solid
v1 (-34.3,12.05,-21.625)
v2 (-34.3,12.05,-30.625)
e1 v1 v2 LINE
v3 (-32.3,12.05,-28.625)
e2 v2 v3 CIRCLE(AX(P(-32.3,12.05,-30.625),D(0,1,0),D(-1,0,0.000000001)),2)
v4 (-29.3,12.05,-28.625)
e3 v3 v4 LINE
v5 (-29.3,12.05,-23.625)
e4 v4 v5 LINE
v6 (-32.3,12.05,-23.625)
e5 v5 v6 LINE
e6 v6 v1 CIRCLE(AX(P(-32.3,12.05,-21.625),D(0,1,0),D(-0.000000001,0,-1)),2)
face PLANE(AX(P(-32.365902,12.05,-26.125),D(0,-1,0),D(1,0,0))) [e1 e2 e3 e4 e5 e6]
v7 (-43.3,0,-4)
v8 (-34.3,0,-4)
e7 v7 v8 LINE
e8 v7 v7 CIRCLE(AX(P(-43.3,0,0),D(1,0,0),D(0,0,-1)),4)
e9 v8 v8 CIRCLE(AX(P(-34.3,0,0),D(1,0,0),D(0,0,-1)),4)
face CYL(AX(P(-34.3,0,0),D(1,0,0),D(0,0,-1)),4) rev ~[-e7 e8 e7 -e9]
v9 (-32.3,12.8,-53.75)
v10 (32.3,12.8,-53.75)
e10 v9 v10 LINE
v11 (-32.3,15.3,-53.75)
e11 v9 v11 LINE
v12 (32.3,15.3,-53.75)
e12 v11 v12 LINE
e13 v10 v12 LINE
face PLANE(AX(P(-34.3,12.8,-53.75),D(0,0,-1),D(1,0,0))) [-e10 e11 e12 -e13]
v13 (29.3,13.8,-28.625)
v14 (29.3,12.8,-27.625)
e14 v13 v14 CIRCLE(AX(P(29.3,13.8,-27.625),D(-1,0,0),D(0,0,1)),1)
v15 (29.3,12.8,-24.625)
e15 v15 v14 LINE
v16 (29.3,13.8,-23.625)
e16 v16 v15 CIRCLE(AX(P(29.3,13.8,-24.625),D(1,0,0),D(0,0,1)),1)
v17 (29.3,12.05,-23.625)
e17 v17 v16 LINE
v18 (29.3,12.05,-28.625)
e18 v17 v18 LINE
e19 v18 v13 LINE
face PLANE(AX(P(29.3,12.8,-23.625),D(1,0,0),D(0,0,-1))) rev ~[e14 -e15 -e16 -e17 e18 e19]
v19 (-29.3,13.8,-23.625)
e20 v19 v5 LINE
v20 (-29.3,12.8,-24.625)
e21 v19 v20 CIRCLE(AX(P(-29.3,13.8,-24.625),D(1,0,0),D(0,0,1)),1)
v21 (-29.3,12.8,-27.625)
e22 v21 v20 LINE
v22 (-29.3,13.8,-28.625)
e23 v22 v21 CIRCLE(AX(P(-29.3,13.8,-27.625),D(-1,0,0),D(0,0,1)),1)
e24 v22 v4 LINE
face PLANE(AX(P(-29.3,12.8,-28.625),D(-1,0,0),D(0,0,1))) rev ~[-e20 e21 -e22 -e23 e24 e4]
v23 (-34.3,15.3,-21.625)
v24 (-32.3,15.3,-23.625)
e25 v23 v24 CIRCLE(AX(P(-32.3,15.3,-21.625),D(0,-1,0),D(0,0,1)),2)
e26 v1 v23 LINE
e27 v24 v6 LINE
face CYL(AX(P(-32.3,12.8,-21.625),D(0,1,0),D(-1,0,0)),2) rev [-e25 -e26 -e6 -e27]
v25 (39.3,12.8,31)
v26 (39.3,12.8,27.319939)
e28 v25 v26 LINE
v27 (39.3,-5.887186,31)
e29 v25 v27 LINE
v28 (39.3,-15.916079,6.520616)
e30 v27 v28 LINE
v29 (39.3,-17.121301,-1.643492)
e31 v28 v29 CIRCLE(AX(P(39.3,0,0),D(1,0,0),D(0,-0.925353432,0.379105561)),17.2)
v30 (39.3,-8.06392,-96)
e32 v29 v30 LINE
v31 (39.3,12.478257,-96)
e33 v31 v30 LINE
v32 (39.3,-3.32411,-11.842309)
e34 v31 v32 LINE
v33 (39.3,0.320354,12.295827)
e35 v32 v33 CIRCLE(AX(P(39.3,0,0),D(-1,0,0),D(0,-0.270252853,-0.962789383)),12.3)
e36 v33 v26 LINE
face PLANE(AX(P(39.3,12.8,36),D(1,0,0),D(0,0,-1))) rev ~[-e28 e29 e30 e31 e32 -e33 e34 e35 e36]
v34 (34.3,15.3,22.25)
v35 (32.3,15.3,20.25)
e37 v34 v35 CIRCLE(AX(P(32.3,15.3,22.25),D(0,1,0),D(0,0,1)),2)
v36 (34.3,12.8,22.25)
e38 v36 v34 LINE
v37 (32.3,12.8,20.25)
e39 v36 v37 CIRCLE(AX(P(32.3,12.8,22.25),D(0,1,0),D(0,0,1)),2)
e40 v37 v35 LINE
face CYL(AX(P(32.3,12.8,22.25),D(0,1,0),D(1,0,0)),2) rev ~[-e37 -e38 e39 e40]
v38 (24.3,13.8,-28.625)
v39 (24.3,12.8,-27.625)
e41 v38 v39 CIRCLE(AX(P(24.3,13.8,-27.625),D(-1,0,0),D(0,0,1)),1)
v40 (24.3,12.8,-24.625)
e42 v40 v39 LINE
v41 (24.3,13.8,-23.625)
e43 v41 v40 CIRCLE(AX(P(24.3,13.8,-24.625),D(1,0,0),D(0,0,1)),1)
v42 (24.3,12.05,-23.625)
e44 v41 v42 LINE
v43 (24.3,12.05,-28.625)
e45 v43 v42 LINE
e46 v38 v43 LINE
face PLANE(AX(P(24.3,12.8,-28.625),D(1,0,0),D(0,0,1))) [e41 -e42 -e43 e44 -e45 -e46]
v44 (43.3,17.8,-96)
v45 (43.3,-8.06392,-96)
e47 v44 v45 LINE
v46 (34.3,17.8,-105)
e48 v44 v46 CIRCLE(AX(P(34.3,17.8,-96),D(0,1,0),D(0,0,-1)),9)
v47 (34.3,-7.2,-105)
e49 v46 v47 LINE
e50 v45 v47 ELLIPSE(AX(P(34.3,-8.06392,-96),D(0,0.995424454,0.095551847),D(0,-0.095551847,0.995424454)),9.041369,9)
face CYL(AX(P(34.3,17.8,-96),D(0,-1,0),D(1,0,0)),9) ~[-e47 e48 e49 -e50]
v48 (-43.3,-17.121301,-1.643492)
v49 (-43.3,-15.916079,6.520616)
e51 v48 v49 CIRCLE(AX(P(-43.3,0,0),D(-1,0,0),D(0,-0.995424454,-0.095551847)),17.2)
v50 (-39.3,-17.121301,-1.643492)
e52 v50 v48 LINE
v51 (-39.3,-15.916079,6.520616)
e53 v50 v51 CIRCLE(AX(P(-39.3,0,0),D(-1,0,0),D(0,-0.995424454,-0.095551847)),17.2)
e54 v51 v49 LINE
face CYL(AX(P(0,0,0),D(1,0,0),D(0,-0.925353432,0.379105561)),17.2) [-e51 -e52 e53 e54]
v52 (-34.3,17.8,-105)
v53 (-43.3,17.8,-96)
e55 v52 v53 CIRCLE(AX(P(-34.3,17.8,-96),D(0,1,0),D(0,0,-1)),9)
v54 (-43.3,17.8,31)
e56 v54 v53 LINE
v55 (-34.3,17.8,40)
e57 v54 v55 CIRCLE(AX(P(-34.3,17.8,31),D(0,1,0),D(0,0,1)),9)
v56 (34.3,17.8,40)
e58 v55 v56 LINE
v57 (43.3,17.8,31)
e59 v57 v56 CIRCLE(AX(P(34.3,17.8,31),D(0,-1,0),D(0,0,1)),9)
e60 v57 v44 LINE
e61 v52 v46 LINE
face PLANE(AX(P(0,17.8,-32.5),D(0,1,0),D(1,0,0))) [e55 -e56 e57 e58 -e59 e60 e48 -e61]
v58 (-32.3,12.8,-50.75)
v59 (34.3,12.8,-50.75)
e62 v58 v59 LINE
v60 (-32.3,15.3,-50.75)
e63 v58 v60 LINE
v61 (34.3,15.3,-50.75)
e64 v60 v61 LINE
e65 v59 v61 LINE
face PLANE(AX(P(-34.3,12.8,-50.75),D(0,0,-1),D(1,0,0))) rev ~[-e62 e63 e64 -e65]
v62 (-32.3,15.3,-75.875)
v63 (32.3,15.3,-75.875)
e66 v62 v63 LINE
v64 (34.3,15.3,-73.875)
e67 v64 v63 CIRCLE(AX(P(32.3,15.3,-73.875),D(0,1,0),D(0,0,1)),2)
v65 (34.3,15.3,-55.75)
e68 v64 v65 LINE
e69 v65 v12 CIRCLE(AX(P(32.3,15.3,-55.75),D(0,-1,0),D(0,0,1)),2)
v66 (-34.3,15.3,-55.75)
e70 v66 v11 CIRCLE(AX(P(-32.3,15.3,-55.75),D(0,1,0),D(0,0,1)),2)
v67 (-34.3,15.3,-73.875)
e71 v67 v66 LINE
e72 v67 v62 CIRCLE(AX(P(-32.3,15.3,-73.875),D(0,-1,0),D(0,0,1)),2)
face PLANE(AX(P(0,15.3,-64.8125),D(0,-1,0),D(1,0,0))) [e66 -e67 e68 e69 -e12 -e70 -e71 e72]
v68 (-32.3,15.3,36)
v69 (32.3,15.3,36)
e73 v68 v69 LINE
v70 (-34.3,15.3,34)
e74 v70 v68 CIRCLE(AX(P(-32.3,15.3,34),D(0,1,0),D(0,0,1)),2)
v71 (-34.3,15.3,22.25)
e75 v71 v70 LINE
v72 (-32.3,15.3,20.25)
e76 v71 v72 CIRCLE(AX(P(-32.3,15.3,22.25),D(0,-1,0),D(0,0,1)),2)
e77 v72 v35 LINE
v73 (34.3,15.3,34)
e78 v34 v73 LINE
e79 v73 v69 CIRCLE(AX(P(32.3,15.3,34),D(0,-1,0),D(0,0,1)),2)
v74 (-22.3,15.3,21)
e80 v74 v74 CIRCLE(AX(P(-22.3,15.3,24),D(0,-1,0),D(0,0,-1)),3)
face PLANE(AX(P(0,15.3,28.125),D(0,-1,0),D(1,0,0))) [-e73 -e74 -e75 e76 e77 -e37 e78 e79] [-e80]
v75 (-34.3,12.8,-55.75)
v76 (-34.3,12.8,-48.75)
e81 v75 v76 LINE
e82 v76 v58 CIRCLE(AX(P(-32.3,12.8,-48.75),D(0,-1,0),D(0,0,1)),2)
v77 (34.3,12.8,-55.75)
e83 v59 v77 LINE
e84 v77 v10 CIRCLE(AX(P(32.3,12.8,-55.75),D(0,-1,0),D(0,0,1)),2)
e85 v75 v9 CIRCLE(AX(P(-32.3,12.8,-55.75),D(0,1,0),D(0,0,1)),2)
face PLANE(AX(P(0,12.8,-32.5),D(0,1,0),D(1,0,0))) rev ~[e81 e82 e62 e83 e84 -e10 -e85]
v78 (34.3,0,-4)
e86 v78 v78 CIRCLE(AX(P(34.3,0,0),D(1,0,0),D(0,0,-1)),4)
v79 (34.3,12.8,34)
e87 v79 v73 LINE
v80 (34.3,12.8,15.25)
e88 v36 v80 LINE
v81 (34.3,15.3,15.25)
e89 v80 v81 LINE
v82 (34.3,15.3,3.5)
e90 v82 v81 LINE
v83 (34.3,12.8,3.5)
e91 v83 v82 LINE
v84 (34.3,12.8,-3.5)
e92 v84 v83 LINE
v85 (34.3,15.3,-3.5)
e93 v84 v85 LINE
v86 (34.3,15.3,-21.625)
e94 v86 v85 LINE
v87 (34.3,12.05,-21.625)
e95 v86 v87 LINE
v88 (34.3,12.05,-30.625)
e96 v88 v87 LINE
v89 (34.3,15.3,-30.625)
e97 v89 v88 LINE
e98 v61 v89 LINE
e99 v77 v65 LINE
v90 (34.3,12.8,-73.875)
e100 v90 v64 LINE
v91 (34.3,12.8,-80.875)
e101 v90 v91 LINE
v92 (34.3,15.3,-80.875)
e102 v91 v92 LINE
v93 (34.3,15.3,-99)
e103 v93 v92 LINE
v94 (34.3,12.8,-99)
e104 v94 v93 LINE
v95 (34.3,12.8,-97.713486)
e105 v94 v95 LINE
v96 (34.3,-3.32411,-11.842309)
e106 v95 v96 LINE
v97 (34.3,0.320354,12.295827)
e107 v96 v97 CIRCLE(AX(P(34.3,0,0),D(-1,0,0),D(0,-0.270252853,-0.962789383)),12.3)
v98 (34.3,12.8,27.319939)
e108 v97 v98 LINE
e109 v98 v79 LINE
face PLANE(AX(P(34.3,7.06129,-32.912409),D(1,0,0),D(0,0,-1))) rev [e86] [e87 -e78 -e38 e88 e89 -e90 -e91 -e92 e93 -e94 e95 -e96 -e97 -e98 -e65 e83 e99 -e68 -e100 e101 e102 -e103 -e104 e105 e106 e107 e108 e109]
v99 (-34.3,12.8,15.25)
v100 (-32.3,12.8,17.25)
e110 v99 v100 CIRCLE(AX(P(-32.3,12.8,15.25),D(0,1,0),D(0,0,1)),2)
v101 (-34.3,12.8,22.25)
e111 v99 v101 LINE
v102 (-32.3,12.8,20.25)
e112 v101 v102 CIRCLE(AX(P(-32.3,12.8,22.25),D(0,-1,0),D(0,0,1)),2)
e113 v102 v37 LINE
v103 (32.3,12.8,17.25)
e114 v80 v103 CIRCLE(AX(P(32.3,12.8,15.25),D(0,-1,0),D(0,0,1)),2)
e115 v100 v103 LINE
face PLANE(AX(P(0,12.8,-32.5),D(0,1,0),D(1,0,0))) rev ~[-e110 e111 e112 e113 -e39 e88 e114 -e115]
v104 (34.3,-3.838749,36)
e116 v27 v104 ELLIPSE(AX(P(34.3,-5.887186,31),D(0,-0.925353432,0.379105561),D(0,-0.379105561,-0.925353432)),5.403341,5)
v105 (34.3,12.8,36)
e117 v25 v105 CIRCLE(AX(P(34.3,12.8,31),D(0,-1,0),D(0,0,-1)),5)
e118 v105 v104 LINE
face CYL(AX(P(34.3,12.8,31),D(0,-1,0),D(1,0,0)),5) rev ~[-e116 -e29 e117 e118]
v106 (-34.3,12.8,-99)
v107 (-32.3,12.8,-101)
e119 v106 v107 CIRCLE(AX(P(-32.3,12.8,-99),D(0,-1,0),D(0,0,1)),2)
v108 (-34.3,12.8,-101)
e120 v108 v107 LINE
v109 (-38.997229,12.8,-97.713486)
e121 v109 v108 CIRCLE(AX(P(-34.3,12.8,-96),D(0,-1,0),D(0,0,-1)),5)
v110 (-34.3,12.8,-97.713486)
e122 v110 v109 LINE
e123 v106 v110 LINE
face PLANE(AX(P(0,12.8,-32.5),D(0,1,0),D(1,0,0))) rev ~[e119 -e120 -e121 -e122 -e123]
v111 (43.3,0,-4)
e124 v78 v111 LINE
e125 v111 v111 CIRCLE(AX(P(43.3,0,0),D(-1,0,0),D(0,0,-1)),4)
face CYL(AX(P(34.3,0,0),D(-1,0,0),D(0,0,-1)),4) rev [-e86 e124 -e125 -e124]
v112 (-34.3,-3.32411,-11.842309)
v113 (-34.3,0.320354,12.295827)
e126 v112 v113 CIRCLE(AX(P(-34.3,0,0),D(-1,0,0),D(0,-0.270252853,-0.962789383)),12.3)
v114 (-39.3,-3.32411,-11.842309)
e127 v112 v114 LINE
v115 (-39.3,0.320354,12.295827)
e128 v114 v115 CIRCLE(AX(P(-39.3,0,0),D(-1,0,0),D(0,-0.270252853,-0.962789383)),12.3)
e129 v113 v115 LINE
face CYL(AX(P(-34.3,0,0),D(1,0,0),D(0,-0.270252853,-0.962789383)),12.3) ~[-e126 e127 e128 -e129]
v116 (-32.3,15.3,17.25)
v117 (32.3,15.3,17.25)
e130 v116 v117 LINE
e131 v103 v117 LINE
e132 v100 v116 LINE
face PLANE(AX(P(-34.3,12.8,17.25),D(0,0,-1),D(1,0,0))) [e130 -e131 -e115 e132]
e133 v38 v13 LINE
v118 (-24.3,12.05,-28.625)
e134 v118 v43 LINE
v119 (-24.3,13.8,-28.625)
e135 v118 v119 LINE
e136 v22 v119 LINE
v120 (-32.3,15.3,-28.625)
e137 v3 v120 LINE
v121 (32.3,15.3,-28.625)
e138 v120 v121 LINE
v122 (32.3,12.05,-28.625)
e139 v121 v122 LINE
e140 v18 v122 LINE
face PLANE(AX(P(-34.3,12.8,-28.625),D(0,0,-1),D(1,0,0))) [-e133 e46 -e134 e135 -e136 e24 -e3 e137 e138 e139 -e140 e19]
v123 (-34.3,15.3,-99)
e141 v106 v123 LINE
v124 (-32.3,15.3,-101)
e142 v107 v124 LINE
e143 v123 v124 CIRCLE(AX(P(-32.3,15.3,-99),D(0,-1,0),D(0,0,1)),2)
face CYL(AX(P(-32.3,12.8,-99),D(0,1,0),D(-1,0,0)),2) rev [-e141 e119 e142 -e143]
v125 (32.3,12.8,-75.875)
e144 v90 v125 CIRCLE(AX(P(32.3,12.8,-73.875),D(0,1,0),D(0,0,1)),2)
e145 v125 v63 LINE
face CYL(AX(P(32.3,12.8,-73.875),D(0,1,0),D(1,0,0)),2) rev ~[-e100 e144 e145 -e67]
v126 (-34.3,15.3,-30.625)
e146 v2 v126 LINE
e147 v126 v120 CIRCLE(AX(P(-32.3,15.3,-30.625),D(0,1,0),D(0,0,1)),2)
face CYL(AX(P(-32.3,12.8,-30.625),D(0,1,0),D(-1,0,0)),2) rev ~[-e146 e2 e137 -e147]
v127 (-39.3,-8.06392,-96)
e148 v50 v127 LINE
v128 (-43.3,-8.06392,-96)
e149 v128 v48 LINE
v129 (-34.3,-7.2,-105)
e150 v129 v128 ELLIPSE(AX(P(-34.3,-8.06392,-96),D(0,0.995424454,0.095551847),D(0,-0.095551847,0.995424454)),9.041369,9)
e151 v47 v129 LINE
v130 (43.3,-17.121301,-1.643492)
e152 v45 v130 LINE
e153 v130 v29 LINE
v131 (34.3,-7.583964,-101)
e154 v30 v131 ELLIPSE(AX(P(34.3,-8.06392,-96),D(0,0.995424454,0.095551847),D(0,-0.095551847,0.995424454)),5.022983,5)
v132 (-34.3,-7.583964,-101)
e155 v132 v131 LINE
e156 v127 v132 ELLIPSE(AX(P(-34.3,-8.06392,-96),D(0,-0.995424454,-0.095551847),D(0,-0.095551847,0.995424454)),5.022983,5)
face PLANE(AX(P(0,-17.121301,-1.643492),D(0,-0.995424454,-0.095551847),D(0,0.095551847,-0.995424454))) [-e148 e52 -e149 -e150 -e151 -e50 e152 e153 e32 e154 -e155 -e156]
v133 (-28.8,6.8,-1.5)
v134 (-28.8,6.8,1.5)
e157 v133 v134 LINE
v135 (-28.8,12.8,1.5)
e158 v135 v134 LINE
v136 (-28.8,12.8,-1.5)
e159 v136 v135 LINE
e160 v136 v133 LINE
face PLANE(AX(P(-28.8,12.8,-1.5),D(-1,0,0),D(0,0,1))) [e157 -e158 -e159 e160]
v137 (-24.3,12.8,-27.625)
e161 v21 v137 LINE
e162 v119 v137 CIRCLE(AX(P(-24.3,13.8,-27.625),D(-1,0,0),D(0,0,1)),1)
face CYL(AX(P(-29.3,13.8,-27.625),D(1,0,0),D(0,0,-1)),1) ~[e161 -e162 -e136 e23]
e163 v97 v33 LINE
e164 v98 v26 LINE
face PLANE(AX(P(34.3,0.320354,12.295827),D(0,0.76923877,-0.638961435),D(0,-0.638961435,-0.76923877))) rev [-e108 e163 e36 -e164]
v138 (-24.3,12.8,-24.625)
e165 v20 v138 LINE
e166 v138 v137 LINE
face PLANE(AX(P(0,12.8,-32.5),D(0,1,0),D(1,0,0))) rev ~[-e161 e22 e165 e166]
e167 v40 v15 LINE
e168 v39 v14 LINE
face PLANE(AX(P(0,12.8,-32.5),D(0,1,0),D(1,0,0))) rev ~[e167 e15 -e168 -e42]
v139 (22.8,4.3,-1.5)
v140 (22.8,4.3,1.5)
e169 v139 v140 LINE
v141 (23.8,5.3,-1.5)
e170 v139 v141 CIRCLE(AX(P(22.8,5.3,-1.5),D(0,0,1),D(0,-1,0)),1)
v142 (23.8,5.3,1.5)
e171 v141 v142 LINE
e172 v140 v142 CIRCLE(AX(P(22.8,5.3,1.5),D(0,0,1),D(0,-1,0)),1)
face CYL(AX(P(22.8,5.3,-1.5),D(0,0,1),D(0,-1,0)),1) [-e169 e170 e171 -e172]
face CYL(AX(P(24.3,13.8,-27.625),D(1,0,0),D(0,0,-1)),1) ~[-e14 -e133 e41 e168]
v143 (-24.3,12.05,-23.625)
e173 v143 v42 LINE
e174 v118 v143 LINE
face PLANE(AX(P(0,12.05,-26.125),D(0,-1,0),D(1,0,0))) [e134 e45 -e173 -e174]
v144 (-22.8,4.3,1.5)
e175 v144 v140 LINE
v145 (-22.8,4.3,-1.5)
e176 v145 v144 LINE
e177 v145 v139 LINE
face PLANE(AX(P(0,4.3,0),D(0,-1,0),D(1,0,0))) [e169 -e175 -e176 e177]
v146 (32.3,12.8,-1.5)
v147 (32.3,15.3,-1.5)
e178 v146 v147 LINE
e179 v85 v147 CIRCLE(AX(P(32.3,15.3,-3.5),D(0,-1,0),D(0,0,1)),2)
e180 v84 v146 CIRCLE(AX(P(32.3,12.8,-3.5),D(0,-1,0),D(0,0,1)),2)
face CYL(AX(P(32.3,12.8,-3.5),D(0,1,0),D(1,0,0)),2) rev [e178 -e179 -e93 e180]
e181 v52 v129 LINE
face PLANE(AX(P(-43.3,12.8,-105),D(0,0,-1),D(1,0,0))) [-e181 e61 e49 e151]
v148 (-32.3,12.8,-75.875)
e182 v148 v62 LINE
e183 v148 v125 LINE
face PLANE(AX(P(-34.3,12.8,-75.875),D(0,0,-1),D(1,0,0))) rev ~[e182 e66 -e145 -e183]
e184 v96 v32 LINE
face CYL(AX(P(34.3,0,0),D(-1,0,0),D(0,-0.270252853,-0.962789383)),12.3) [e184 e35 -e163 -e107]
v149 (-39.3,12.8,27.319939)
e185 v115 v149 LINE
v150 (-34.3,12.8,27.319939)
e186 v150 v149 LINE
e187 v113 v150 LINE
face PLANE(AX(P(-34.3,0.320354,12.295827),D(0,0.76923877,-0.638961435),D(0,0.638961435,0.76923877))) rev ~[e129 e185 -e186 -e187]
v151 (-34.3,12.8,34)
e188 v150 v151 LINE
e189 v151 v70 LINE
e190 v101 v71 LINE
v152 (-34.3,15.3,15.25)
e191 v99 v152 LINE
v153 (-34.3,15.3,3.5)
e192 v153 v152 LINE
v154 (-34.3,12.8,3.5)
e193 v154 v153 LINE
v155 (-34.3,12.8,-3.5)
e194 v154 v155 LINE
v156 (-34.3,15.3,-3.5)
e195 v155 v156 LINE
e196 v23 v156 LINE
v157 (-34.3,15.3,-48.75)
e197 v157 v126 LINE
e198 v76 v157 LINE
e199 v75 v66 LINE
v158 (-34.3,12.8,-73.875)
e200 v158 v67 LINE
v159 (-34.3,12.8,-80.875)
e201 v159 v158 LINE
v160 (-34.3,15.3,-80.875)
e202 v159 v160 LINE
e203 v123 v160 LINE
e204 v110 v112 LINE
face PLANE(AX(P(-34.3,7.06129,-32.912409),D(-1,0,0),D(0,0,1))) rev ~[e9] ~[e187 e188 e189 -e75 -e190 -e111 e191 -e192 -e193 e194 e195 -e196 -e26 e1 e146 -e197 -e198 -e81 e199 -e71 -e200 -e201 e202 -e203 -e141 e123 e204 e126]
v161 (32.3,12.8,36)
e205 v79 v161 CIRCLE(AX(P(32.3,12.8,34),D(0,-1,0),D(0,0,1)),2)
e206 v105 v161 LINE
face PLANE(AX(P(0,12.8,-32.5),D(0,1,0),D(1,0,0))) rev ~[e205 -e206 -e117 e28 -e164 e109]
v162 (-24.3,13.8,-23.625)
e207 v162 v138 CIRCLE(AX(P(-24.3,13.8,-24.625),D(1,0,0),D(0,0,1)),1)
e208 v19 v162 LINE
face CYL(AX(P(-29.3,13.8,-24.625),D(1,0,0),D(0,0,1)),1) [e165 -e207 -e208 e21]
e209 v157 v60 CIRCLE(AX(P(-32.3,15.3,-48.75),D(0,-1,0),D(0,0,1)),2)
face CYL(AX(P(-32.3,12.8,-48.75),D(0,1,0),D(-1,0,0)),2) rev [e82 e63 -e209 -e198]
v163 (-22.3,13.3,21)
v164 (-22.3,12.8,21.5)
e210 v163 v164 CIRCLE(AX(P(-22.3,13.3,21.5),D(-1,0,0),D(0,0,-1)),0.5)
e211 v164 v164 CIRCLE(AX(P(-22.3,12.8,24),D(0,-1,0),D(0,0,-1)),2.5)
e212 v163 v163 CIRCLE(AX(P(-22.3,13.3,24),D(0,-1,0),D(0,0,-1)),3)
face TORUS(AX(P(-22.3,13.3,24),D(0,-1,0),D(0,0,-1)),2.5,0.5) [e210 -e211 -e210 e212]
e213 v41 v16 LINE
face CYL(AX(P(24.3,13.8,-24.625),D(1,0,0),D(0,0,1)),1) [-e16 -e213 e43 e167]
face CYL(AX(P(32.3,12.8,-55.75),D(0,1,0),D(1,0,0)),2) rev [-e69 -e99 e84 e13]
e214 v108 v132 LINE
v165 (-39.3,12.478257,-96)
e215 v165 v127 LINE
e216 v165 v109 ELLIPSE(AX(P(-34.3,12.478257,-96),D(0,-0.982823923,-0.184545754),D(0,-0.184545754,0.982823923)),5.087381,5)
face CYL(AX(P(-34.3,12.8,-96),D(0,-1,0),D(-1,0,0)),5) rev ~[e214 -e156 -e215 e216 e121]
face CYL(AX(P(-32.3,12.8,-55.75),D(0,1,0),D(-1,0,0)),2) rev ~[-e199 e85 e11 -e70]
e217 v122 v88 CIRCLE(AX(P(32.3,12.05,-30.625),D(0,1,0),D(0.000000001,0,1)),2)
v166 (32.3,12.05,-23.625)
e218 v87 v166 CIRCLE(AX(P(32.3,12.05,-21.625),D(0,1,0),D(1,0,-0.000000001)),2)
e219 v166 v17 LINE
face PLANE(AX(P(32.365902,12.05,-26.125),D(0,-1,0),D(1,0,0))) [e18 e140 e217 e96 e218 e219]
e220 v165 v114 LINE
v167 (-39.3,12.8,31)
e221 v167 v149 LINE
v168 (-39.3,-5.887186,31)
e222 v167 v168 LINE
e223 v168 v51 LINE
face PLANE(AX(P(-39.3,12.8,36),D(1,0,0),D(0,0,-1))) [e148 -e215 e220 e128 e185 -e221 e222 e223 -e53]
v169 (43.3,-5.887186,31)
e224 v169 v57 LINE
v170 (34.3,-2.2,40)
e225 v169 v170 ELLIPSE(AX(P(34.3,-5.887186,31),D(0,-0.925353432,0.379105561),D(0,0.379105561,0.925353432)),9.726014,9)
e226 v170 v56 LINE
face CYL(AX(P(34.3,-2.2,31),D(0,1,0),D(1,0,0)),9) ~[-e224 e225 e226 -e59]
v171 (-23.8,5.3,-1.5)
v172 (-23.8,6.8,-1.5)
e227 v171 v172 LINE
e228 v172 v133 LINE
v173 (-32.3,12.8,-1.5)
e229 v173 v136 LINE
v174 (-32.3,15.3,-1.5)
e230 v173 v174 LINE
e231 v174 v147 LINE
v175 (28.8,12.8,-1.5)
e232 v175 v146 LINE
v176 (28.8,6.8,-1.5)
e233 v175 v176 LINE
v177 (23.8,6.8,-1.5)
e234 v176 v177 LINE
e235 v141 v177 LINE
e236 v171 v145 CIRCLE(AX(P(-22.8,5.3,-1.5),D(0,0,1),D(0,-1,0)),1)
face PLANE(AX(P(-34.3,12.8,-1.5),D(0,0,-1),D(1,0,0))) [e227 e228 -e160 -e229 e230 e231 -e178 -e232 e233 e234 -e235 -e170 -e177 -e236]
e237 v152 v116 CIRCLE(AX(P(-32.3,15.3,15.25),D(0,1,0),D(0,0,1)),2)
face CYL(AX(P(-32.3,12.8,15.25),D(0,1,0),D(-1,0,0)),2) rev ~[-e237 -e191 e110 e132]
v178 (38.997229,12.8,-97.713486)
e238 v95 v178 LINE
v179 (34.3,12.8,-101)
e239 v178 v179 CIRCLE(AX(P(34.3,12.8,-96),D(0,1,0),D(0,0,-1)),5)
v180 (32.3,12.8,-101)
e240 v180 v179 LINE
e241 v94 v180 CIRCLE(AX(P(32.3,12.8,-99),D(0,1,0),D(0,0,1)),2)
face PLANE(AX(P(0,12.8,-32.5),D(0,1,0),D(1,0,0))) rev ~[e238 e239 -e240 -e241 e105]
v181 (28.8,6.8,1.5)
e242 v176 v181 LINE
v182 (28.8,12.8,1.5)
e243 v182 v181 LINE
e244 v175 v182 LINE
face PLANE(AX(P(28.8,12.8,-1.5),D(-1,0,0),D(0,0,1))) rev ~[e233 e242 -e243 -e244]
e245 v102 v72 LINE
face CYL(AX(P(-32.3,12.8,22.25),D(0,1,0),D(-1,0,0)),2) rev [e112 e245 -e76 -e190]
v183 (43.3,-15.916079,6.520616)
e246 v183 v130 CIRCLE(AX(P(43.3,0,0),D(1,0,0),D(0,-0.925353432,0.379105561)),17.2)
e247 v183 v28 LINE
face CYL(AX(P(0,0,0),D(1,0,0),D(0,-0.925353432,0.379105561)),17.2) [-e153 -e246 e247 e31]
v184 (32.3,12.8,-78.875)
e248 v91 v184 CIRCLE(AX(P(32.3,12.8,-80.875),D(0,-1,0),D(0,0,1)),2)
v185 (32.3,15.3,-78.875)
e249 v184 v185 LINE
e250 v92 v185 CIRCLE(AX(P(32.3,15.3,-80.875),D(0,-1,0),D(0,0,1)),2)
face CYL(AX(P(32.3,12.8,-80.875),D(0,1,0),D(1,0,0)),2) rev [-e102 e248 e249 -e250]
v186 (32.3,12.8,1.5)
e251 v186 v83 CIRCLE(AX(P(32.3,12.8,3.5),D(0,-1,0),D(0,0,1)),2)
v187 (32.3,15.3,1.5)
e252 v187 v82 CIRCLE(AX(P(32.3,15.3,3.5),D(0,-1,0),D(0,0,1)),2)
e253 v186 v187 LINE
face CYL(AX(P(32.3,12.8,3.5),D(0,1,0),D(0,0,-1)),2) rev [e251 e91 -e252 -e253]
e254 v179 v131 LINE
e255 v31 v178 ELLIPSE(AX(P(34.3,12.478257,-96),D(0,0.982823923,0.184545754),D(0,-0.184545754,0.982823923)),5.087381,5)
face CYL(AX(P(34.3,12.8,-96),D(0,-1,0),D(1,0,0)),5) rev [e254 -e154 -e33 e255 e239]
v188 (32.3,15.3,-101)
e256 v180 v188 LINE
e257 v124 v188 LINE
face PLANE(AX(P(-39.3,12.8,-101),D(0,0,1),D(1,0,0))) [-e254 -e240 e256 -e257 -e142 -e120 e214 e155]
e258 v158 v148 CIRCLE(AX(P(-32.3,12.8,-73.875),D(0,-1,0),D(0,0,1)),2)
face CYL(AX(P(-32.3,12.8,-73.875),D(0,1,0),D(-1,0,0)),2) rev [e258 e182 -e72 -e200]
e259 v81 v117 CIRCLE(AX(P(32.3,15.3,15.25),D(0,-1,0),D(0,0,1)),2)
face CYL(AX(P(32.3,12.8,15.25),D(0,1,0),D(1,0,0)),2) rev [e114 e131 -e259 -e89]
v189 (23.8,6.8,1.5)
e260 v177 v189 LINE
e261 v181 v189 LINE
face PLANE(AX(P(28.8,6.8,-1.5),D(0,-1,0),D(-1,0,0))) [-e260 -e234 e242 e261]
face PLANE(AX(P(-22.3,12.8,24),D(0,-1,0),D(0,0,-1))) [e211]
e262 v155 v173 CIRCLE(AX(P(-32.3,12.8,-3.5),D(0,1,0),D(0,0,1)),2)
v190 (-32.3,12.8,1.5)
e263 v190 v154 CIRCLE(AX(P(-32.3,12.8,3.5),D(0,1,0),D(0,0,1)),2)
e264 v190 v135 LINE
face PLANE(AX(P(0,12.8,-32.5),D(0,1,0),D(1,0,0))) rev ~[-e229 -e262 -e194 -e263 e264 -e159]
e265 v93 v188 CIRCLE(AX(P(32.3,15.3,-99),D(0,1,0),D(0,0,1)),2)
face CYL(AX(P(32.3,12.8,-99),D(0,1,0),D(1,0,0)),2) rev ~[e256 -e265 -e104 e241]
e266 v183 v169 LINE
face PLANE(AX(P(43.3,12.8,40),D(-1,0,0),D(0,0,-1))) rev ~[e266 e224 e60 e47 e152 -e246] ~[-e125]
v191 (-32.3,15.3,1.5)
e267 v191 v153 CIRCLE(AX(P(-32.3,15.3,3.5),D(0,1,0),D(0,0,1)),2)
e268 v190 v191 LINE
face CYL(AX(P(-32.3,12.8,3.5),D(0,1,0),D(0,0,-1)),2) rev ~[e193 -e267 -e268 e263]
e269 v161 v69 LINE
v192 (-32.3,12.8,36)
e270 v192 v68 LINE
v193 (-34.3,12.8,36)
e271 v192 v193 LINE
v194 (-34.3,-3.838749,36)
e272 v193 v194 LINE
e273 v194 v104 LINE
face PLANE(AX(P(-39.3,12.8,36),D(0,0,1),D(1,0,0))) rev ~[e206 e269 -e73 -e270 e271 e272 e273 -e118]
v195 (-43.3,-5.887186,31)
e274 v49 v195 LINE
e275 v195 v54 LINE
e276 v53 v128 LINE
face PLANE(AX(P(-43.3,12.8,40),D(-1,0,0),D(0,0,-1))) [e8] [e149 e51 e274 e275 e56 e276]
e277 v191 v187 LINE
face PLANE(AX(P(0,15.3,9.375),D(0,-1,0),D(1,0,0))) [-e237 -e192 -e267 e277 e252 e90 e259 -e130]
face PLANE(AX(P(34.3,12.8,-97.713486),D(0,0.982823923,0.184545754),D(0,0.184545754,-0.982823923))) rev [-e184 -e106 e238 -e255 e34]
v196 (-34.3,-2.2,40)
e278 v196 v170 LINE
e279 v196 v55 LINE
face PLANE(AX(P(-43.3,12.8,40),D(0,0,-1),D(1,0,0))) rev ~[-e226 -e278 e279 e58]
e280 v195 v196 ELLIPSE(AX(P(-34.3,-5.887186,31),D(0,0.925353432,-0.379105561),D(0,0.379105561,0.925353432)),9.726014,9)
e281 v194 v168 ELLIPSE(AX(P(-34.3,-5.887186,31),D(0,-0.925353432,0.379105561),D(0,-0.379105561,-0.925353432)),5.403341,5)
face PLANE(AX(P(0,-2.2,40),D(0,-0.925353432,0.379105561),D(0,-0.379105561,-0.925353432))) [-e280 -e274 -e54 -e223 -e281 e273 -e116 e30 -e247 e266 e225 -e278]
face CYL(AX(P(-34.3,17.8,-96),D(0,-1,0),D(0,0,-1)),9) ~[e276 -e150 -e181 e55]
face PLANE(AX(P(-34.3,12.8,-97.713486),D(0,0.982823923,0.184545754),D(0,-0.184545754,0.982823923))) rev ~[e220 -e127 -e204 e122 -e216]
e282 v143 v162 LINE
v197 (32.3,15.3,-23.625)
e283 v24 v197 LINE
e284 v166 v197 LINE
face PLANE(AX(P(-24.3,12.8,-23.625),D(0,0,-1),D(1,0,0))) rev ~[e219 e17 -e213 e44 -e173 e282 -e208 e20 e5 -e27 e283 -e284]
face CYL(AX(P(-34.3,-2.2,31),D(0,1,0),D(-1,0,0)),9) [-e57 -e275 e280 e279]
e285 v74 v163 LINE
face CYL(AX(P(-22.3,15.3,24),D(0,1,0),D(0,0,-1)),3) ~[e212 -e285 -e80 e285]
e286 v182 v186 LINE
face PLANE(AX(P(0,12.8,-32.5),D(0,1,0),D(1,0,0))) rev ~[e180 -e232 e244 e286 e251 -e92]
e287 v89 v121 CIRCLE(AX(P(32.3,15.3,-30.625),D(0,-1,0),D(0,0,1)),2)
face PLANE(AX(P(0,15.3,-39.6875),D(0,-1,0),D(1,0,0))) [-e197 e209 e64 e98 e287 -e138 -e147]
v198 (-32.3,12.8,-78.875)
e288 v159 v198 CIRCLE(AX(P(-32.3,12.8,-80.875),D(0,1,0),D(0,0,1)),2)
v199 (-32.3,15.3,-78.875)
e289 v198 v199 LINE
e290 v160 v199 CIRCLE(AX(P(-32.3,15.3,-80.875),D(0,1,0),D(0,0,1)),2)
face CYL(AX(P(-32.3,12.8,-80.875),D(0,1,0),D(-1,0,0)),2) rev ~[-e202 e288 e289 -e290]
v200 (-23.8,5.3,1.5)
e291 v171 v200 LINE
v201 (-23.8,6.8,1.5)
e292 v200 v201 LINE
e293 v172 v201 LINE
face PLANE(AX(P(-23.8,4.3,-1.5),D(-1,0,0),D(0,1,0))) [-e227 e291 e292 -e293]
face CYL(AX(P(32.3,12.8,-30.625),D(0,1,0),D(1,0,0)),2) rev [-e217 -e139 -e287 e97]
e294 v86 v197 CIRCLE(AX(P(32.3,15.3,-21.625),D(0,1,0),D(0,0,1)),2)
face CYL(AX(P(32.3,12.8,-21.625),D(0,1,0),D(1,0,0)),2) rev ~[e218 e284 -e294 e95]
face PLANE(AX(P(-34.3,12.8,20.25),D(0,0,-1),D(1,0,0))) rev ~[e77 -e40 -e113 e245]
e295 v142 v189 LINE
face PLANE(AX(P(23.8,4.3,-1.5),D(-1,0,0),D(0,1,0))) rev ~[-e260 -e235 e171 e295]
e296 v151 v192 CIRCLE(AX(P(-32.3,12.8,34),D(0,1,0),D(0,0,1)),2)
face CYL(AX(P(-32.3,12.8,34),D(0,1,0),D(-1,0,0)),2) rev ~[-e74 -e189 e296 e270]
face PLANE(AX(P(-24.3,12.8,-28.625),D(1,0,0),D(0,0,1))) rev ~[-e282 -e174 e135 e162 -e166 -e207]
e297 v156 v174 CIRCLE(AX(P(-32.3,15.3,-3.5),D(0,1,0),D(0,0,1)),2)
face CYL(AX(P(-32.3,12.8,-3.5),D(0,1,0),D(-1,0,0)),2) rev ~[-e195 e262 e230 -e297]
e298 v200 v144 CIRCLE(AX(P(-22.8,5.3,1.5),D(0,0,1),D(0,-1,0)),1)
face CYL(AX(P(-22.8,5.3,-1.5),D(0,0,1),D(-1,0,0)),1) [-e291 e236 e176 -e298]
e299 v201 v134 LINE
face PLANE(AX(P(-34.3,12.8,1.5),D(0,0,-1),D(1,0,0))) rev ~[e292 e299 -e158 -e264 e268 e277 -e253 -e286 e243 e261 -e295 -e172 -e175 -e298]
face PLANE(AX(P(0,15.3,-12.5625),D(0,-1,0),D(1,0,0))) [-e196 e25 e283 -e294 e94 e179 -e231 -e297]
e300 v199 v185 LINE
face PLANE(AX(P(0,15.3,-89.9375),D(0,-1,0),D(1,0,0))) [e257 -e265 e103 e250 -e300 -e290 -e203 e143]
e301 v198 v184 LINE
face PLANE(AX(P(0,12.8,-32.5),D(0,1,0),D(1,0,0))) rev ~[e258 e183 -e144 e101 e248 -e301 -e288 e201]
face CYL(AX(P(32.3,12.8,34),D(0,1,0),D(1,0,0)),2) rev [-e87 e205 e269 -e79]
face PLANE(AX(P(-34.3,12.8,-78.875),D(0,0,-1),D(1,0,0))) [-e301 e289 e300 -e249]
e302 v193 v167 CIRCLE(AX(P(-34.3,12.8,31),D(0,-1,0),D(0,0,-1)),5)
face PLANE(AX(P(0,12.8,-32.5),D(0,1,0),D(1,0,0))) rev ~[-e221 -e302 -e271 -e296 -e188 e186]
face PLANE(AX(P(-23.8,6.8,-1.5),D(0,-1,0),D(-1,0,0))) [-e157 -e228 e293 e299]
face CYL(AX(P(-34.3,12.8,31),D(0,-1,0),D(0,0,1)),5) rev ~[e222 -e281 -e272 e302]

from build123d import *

# Parameters (mm, degrees)
SKETCH4_W           = 86.6
SKETCH4_H           = 145
SKETCH4_W_2         = 78.6
SKETCH4_H_2         = 137
BOSS_EXTRUDE2_DEPTH = 30
SKETCH5_W           = 86.6
SKETCH5_H           = 145
BOSS_EXTRUDE3_DEPTH = 5
SKETCH6_R           = 4
CUT_EXTRUDE2_DEPTH  = 56.5
BOSS_EXTRUDE1_START = 5
SKETCH1_R           = 4
BOSS_EXTRUDE1_DEPTH = 5
SKETCH7_W           = 68.6
SKETCH7_H           = 15.75
SKETCH7_H_2         = 22.125
CUT_EXTRUDE3_DEPTH  = 2.5
FILLET1_R           = 9
SKETCH12_W          = 57.6
SKETCH12_H          = 3
BOSS_EXTRUDE6_DEPTH = 8.5
SKETCH13_W          = 5
SKETCH13_H          = 2.5
CUT_EXTRUDE4_DEPTH  = 5
FILLET6_R           = 1
FILLET2_R           = 2
FILLET3_R           = 5
SKETCH10_R          = 3
BOSS_EXTRUDE4_DEPTH = 2.5
FILLET4_R           = 0.5
SKETCH11_W          = 48.6
SKETCH11_H          = 5
BOSS_EXTRUDE5_DEPTH = 0.75
FILLET5_R           = 1


with BuildPart() as part:
    # Sketch4 → Boss-Extrude2 (new body)
    with BuildSketch(Plane(origin=(0, 12.8, 0), x_dir=(1, 0, 0), z_dir=(0, 1, 0))):
        with Locations((0, 32.5)):
            Rectangle(SKETCH4_W, SKETCH4_H)
        with Locations((0, 32.5)):
            Rectangle(SKETCH4_W_2, SKETCH4_H_2, mode=Mode.SUBTRACT)
    extrude(amount=-BOSS_EXTRUDE2_DEPTH)

    # Sketch5 → Boss-Extrude3 (add)
    with BuildSketch(Plane(origin=(0, 12.8, 0), x_dir=(1, 0, 0), z_dir=(0, 1, 0))):
        with Locations((0, 32.5)):
            Rectangle(SKETCH5_W, SKETCH5_H)
    extrude(amount=BOSS_EXTRUDE3_DEPTH)

    # Sketch6 → Cut-Extrude2 (cut, symmetric)
    with BuildSketch(Plane(origin=(0, 0, 0), x_dir=(0, 0, -1), z_dir=(1, 0, 0))):
        Circle(SKETCH6_R)
        with BuildLine():
            Line((-40, -2.2), (-6.520615654, -15.916079024))
            ThreePointArc((-6.520615654, -15.916079024), (-2.511916424, -17.015589202), (1.643491767, -17.121300617))
            Line((1.643491767, -17.121300617), (105, -7.2))
            Line((105, -7.2), (105, -30))
            Line((105, -30), (-40, -30))
            Line((-40, -30), (-40, -2.2))
        make_face()
    extrude(amount=CUT_EXTRUDE2_DEPTH, both=True, mode=Mode.SUBTRACT)

    # Sketch1 → Boss-Extrude1 (add)
    with BuildSketch(Plane(origin=(-39.3, 0, 0), x_dir=(0, 0, -1), z_dir=(1, 0, 0)).offset(BOSS_EXTRUDE1_START)):
        with BuildLine():
            Line((-12.295827489, 0.320353501), (-27.31993911, 12.8))
            Line((-27.31993911, 12.8), (97.713486421, 12.8))
            Line((97.713486421, 12.8), (11.842309408, -3.324110088))
            ThreePointArc((11.842309408, -3.324110088), (-1.836286572, -12.162156537), (-12.295827489, 0.320353501))
        make_face()
        Circle(SKETCH1_R, mode=Mode.SUBTRACT)
    boss_extrude1 = extrude(amount=-BOSS_EXTRUDE1_DEPTH)

    # Mirror1: Boss-Extrude1 across plane
    add(boss_extrude1.mirror(Plane(origin=(0, 0, 0), x_dir=(0, 0, 1), z_dir=(1, 0, 0))))

    # Sketch7 → Cut-Extrude3 (cut)
    with BuildSketch(Plane.XZ.offset(-12.8)):
        with Locations((0, 28.125)):
            Rectangle(SKETCH7_W, SKETCH7_H)
        with Locations((0, -89.9375)):
            Rectangle(SKETCH7_W, SKETCH7_H_2)
        with Locations((0, 9.375)):
            Rectangle(SKETCH7_W, SKETCH7_H)
        with Locations((0, -12.5625)):
            Rectangle(SKETCH7_W, SKETCH7_H_2)
        with Locations((0, -39.6875)):
            Rectangle(SKETCH7_W, SKETCH7_H_2)
        with Locations((0, -64.8125)):
            Rectangle(SKETCH7_W, SKETCH7_H_2)
    extrude(amount=-CUT_EXTRUDE3_DEPTH, mode=Mode.SUBTRACT)

    # Fillet1
    fillet1_edges = [part.edges().sort_by_distance(p)[0] for p in [
        (43.3, 7.8, 40),
        (-43.3, 7.8, 40),
        (43.3, 5.3, -105),
        (-43.3, 5.3, -105),
    ]]
    fillet(fillet1_edges, radius=FILLET1_R)

    # Sketch12 → Boss-Extrude6 (add)
    with BuildSketch(Plane.XZ.offset(-12.8)):
        Rectangle(SKETCH12_W, SKETCH12_H)
    extrude(amount=BOSS_EXTRUDE6_DEPTH)

    # Sketch13 → Cut-Extrude4 (cut)
    with BuildSketch(Plane(origin=(0, 0, -1.5), x_dir=(-1, 0, 0), z_dir=(0, 0, -1))):
        with Locations((-26.3, 5.55)):
            Rectangle(SKETCH13_W, SKETCH13_H)
        with Locations((26.3, 5.55)):
            Rectangle(SKETCH13_W, SKETCH13_H)
    extrude(amount=-CUT_EXTRUDE4_DEPTH, mode=Mode.SUBTRACT)

    # Fillet6
    fillet6_edges = [part.edges().sort_by_distance(p)[0] for p in [
        (-23.8, 4.3, 0),
        (23.8, 4.3, 0),
    ]]
    fillet(fillet6_edges, radius=FILLET6_R)

    # Fillet2
    fillet2_edges = [part.edges().sort_by_distance(p)[0] for p in [
        (-34.3, 14.05, 20.25),
        (-34.3, 14.05, 36),
        (34.3, 14.05, 36),
        (34.3, 14.05, 20.25),
        (-34.3, 14.05, -75.875),
        (-34.3, 14.05, -53.75),
        (34.3, 14.05, -53.75),
        (34.3, 14.05, -75.875),
        (34.3, 14.05, -78.875),
        (34.3, 14.05, -101),
        (-34.3, 14.05, -101),
        (-34.3, 14.05, -78.875),
        (-34.3, 14.05, 1.5),
        (-34.3, 14.05, 17.25),
        (34.3, 14.05, 17.25),
        (34.3, 14.05, 1.5),
        (-34.3, 14.05, -23.625),
        (-34.3, 14.05, -1.5),
        (34.3, 14.05, -1.5),
        (34.3, 14.05, -23.625),
        (-34.3, 14.05, -50.75),
        (-34.3, 14.05, -28.625),
        (34.3, 14.05, -28.625),
    ]]
    fillet(fillet2_edges, radius=FILLET2_R)

    # Fillet3
    fillet3_edges = [part.edges().sort_by_distance(p)[0] for p in [
        (39.3, 4.480625373, 36),
        (-39.3, 4.480625373, 36),
        (39.3, 2.608017883, -101),
        (-39.3, 2.608017883, -101),
    ]]
    fillet(fillet3_edges, radius=FILLET3_R)

    # Sketch10 → Boss-Extrude4 (add)
    with BuildSketch(Plane.XZ.offset(-15.3)):
        with Locations(Location((-22.3, 24, 0), (0, 0, 270))):
            Circle(SKETCH10_R)
    extrude(amount=BOSS_EXTRUDE4_DEPTH)

    # Fillet4
    fillet4_edges = [part.edges().sort_by_distance(p)[0] for p in [
        (-22.3, 12.8, 27),
    ]]
    fillet(fillet4_edges, radius=FILLET4_R)

    # Sketch11 → Boss-Extrude5 (add, symmetric)
    with BuildSketch(Plane.XZ.offset(-12.8)):
        with BuildLine():
            Line((-29.3, -23.625), (-32.3, -23.625))
            ThreePointArc((-32.3, -23.625), (-33.714213562, -23.039213562), (-34.3, -21.625))
            Line((-34.3, -21.625), (-34.3, -30.625))
            ThreePointArc((-34.3, -30.625), (-33.714213562, -29.210786438), (-32.3, -28.625))
            Line((-32.3, -28.625), (-29.3, -28.625))
            Line((-29.3, -28.625), (-29.3, -23.625))
        make_face()
        with BuildLine():
            Line((32.3, -23.625), (29.3, -23.625))
            Line((29.3, -23.625), (29.3, -28.625))
            Line((29.3, -28.625), (32.3, -28.625))
            ThreePointArc((32.3, -28.625), (33.714213562, -29.210786438), (34.3, -30.625))
            Line((34.3, -30.625), (34.3, -21.625))
            ThreePointArc((34.3, -21.625), (33.714213562, -23.039213562), (32.3, -23.625))
        make_face()
        with Locations((0, -26.125)):
            Rectangle(SKETCH11_W, SKETCH11_H)
    extrude(amount=BOSS_EXTRUDE5_DEPTH, both=True)

    # Fillet5
    fillet5_edges = [part.edges().sort_by_distance(p)[0] for p in [
        (26.8, 12.8, -28.625),
        (-26.8, 12.8, -23.625),
        (26.8, 12.8, -23.625),
        (-26.8, 12.8, -28.625),
    ]]
    fillet(fillet5_edges, radius=FILLET5_R)


solid = part.part
